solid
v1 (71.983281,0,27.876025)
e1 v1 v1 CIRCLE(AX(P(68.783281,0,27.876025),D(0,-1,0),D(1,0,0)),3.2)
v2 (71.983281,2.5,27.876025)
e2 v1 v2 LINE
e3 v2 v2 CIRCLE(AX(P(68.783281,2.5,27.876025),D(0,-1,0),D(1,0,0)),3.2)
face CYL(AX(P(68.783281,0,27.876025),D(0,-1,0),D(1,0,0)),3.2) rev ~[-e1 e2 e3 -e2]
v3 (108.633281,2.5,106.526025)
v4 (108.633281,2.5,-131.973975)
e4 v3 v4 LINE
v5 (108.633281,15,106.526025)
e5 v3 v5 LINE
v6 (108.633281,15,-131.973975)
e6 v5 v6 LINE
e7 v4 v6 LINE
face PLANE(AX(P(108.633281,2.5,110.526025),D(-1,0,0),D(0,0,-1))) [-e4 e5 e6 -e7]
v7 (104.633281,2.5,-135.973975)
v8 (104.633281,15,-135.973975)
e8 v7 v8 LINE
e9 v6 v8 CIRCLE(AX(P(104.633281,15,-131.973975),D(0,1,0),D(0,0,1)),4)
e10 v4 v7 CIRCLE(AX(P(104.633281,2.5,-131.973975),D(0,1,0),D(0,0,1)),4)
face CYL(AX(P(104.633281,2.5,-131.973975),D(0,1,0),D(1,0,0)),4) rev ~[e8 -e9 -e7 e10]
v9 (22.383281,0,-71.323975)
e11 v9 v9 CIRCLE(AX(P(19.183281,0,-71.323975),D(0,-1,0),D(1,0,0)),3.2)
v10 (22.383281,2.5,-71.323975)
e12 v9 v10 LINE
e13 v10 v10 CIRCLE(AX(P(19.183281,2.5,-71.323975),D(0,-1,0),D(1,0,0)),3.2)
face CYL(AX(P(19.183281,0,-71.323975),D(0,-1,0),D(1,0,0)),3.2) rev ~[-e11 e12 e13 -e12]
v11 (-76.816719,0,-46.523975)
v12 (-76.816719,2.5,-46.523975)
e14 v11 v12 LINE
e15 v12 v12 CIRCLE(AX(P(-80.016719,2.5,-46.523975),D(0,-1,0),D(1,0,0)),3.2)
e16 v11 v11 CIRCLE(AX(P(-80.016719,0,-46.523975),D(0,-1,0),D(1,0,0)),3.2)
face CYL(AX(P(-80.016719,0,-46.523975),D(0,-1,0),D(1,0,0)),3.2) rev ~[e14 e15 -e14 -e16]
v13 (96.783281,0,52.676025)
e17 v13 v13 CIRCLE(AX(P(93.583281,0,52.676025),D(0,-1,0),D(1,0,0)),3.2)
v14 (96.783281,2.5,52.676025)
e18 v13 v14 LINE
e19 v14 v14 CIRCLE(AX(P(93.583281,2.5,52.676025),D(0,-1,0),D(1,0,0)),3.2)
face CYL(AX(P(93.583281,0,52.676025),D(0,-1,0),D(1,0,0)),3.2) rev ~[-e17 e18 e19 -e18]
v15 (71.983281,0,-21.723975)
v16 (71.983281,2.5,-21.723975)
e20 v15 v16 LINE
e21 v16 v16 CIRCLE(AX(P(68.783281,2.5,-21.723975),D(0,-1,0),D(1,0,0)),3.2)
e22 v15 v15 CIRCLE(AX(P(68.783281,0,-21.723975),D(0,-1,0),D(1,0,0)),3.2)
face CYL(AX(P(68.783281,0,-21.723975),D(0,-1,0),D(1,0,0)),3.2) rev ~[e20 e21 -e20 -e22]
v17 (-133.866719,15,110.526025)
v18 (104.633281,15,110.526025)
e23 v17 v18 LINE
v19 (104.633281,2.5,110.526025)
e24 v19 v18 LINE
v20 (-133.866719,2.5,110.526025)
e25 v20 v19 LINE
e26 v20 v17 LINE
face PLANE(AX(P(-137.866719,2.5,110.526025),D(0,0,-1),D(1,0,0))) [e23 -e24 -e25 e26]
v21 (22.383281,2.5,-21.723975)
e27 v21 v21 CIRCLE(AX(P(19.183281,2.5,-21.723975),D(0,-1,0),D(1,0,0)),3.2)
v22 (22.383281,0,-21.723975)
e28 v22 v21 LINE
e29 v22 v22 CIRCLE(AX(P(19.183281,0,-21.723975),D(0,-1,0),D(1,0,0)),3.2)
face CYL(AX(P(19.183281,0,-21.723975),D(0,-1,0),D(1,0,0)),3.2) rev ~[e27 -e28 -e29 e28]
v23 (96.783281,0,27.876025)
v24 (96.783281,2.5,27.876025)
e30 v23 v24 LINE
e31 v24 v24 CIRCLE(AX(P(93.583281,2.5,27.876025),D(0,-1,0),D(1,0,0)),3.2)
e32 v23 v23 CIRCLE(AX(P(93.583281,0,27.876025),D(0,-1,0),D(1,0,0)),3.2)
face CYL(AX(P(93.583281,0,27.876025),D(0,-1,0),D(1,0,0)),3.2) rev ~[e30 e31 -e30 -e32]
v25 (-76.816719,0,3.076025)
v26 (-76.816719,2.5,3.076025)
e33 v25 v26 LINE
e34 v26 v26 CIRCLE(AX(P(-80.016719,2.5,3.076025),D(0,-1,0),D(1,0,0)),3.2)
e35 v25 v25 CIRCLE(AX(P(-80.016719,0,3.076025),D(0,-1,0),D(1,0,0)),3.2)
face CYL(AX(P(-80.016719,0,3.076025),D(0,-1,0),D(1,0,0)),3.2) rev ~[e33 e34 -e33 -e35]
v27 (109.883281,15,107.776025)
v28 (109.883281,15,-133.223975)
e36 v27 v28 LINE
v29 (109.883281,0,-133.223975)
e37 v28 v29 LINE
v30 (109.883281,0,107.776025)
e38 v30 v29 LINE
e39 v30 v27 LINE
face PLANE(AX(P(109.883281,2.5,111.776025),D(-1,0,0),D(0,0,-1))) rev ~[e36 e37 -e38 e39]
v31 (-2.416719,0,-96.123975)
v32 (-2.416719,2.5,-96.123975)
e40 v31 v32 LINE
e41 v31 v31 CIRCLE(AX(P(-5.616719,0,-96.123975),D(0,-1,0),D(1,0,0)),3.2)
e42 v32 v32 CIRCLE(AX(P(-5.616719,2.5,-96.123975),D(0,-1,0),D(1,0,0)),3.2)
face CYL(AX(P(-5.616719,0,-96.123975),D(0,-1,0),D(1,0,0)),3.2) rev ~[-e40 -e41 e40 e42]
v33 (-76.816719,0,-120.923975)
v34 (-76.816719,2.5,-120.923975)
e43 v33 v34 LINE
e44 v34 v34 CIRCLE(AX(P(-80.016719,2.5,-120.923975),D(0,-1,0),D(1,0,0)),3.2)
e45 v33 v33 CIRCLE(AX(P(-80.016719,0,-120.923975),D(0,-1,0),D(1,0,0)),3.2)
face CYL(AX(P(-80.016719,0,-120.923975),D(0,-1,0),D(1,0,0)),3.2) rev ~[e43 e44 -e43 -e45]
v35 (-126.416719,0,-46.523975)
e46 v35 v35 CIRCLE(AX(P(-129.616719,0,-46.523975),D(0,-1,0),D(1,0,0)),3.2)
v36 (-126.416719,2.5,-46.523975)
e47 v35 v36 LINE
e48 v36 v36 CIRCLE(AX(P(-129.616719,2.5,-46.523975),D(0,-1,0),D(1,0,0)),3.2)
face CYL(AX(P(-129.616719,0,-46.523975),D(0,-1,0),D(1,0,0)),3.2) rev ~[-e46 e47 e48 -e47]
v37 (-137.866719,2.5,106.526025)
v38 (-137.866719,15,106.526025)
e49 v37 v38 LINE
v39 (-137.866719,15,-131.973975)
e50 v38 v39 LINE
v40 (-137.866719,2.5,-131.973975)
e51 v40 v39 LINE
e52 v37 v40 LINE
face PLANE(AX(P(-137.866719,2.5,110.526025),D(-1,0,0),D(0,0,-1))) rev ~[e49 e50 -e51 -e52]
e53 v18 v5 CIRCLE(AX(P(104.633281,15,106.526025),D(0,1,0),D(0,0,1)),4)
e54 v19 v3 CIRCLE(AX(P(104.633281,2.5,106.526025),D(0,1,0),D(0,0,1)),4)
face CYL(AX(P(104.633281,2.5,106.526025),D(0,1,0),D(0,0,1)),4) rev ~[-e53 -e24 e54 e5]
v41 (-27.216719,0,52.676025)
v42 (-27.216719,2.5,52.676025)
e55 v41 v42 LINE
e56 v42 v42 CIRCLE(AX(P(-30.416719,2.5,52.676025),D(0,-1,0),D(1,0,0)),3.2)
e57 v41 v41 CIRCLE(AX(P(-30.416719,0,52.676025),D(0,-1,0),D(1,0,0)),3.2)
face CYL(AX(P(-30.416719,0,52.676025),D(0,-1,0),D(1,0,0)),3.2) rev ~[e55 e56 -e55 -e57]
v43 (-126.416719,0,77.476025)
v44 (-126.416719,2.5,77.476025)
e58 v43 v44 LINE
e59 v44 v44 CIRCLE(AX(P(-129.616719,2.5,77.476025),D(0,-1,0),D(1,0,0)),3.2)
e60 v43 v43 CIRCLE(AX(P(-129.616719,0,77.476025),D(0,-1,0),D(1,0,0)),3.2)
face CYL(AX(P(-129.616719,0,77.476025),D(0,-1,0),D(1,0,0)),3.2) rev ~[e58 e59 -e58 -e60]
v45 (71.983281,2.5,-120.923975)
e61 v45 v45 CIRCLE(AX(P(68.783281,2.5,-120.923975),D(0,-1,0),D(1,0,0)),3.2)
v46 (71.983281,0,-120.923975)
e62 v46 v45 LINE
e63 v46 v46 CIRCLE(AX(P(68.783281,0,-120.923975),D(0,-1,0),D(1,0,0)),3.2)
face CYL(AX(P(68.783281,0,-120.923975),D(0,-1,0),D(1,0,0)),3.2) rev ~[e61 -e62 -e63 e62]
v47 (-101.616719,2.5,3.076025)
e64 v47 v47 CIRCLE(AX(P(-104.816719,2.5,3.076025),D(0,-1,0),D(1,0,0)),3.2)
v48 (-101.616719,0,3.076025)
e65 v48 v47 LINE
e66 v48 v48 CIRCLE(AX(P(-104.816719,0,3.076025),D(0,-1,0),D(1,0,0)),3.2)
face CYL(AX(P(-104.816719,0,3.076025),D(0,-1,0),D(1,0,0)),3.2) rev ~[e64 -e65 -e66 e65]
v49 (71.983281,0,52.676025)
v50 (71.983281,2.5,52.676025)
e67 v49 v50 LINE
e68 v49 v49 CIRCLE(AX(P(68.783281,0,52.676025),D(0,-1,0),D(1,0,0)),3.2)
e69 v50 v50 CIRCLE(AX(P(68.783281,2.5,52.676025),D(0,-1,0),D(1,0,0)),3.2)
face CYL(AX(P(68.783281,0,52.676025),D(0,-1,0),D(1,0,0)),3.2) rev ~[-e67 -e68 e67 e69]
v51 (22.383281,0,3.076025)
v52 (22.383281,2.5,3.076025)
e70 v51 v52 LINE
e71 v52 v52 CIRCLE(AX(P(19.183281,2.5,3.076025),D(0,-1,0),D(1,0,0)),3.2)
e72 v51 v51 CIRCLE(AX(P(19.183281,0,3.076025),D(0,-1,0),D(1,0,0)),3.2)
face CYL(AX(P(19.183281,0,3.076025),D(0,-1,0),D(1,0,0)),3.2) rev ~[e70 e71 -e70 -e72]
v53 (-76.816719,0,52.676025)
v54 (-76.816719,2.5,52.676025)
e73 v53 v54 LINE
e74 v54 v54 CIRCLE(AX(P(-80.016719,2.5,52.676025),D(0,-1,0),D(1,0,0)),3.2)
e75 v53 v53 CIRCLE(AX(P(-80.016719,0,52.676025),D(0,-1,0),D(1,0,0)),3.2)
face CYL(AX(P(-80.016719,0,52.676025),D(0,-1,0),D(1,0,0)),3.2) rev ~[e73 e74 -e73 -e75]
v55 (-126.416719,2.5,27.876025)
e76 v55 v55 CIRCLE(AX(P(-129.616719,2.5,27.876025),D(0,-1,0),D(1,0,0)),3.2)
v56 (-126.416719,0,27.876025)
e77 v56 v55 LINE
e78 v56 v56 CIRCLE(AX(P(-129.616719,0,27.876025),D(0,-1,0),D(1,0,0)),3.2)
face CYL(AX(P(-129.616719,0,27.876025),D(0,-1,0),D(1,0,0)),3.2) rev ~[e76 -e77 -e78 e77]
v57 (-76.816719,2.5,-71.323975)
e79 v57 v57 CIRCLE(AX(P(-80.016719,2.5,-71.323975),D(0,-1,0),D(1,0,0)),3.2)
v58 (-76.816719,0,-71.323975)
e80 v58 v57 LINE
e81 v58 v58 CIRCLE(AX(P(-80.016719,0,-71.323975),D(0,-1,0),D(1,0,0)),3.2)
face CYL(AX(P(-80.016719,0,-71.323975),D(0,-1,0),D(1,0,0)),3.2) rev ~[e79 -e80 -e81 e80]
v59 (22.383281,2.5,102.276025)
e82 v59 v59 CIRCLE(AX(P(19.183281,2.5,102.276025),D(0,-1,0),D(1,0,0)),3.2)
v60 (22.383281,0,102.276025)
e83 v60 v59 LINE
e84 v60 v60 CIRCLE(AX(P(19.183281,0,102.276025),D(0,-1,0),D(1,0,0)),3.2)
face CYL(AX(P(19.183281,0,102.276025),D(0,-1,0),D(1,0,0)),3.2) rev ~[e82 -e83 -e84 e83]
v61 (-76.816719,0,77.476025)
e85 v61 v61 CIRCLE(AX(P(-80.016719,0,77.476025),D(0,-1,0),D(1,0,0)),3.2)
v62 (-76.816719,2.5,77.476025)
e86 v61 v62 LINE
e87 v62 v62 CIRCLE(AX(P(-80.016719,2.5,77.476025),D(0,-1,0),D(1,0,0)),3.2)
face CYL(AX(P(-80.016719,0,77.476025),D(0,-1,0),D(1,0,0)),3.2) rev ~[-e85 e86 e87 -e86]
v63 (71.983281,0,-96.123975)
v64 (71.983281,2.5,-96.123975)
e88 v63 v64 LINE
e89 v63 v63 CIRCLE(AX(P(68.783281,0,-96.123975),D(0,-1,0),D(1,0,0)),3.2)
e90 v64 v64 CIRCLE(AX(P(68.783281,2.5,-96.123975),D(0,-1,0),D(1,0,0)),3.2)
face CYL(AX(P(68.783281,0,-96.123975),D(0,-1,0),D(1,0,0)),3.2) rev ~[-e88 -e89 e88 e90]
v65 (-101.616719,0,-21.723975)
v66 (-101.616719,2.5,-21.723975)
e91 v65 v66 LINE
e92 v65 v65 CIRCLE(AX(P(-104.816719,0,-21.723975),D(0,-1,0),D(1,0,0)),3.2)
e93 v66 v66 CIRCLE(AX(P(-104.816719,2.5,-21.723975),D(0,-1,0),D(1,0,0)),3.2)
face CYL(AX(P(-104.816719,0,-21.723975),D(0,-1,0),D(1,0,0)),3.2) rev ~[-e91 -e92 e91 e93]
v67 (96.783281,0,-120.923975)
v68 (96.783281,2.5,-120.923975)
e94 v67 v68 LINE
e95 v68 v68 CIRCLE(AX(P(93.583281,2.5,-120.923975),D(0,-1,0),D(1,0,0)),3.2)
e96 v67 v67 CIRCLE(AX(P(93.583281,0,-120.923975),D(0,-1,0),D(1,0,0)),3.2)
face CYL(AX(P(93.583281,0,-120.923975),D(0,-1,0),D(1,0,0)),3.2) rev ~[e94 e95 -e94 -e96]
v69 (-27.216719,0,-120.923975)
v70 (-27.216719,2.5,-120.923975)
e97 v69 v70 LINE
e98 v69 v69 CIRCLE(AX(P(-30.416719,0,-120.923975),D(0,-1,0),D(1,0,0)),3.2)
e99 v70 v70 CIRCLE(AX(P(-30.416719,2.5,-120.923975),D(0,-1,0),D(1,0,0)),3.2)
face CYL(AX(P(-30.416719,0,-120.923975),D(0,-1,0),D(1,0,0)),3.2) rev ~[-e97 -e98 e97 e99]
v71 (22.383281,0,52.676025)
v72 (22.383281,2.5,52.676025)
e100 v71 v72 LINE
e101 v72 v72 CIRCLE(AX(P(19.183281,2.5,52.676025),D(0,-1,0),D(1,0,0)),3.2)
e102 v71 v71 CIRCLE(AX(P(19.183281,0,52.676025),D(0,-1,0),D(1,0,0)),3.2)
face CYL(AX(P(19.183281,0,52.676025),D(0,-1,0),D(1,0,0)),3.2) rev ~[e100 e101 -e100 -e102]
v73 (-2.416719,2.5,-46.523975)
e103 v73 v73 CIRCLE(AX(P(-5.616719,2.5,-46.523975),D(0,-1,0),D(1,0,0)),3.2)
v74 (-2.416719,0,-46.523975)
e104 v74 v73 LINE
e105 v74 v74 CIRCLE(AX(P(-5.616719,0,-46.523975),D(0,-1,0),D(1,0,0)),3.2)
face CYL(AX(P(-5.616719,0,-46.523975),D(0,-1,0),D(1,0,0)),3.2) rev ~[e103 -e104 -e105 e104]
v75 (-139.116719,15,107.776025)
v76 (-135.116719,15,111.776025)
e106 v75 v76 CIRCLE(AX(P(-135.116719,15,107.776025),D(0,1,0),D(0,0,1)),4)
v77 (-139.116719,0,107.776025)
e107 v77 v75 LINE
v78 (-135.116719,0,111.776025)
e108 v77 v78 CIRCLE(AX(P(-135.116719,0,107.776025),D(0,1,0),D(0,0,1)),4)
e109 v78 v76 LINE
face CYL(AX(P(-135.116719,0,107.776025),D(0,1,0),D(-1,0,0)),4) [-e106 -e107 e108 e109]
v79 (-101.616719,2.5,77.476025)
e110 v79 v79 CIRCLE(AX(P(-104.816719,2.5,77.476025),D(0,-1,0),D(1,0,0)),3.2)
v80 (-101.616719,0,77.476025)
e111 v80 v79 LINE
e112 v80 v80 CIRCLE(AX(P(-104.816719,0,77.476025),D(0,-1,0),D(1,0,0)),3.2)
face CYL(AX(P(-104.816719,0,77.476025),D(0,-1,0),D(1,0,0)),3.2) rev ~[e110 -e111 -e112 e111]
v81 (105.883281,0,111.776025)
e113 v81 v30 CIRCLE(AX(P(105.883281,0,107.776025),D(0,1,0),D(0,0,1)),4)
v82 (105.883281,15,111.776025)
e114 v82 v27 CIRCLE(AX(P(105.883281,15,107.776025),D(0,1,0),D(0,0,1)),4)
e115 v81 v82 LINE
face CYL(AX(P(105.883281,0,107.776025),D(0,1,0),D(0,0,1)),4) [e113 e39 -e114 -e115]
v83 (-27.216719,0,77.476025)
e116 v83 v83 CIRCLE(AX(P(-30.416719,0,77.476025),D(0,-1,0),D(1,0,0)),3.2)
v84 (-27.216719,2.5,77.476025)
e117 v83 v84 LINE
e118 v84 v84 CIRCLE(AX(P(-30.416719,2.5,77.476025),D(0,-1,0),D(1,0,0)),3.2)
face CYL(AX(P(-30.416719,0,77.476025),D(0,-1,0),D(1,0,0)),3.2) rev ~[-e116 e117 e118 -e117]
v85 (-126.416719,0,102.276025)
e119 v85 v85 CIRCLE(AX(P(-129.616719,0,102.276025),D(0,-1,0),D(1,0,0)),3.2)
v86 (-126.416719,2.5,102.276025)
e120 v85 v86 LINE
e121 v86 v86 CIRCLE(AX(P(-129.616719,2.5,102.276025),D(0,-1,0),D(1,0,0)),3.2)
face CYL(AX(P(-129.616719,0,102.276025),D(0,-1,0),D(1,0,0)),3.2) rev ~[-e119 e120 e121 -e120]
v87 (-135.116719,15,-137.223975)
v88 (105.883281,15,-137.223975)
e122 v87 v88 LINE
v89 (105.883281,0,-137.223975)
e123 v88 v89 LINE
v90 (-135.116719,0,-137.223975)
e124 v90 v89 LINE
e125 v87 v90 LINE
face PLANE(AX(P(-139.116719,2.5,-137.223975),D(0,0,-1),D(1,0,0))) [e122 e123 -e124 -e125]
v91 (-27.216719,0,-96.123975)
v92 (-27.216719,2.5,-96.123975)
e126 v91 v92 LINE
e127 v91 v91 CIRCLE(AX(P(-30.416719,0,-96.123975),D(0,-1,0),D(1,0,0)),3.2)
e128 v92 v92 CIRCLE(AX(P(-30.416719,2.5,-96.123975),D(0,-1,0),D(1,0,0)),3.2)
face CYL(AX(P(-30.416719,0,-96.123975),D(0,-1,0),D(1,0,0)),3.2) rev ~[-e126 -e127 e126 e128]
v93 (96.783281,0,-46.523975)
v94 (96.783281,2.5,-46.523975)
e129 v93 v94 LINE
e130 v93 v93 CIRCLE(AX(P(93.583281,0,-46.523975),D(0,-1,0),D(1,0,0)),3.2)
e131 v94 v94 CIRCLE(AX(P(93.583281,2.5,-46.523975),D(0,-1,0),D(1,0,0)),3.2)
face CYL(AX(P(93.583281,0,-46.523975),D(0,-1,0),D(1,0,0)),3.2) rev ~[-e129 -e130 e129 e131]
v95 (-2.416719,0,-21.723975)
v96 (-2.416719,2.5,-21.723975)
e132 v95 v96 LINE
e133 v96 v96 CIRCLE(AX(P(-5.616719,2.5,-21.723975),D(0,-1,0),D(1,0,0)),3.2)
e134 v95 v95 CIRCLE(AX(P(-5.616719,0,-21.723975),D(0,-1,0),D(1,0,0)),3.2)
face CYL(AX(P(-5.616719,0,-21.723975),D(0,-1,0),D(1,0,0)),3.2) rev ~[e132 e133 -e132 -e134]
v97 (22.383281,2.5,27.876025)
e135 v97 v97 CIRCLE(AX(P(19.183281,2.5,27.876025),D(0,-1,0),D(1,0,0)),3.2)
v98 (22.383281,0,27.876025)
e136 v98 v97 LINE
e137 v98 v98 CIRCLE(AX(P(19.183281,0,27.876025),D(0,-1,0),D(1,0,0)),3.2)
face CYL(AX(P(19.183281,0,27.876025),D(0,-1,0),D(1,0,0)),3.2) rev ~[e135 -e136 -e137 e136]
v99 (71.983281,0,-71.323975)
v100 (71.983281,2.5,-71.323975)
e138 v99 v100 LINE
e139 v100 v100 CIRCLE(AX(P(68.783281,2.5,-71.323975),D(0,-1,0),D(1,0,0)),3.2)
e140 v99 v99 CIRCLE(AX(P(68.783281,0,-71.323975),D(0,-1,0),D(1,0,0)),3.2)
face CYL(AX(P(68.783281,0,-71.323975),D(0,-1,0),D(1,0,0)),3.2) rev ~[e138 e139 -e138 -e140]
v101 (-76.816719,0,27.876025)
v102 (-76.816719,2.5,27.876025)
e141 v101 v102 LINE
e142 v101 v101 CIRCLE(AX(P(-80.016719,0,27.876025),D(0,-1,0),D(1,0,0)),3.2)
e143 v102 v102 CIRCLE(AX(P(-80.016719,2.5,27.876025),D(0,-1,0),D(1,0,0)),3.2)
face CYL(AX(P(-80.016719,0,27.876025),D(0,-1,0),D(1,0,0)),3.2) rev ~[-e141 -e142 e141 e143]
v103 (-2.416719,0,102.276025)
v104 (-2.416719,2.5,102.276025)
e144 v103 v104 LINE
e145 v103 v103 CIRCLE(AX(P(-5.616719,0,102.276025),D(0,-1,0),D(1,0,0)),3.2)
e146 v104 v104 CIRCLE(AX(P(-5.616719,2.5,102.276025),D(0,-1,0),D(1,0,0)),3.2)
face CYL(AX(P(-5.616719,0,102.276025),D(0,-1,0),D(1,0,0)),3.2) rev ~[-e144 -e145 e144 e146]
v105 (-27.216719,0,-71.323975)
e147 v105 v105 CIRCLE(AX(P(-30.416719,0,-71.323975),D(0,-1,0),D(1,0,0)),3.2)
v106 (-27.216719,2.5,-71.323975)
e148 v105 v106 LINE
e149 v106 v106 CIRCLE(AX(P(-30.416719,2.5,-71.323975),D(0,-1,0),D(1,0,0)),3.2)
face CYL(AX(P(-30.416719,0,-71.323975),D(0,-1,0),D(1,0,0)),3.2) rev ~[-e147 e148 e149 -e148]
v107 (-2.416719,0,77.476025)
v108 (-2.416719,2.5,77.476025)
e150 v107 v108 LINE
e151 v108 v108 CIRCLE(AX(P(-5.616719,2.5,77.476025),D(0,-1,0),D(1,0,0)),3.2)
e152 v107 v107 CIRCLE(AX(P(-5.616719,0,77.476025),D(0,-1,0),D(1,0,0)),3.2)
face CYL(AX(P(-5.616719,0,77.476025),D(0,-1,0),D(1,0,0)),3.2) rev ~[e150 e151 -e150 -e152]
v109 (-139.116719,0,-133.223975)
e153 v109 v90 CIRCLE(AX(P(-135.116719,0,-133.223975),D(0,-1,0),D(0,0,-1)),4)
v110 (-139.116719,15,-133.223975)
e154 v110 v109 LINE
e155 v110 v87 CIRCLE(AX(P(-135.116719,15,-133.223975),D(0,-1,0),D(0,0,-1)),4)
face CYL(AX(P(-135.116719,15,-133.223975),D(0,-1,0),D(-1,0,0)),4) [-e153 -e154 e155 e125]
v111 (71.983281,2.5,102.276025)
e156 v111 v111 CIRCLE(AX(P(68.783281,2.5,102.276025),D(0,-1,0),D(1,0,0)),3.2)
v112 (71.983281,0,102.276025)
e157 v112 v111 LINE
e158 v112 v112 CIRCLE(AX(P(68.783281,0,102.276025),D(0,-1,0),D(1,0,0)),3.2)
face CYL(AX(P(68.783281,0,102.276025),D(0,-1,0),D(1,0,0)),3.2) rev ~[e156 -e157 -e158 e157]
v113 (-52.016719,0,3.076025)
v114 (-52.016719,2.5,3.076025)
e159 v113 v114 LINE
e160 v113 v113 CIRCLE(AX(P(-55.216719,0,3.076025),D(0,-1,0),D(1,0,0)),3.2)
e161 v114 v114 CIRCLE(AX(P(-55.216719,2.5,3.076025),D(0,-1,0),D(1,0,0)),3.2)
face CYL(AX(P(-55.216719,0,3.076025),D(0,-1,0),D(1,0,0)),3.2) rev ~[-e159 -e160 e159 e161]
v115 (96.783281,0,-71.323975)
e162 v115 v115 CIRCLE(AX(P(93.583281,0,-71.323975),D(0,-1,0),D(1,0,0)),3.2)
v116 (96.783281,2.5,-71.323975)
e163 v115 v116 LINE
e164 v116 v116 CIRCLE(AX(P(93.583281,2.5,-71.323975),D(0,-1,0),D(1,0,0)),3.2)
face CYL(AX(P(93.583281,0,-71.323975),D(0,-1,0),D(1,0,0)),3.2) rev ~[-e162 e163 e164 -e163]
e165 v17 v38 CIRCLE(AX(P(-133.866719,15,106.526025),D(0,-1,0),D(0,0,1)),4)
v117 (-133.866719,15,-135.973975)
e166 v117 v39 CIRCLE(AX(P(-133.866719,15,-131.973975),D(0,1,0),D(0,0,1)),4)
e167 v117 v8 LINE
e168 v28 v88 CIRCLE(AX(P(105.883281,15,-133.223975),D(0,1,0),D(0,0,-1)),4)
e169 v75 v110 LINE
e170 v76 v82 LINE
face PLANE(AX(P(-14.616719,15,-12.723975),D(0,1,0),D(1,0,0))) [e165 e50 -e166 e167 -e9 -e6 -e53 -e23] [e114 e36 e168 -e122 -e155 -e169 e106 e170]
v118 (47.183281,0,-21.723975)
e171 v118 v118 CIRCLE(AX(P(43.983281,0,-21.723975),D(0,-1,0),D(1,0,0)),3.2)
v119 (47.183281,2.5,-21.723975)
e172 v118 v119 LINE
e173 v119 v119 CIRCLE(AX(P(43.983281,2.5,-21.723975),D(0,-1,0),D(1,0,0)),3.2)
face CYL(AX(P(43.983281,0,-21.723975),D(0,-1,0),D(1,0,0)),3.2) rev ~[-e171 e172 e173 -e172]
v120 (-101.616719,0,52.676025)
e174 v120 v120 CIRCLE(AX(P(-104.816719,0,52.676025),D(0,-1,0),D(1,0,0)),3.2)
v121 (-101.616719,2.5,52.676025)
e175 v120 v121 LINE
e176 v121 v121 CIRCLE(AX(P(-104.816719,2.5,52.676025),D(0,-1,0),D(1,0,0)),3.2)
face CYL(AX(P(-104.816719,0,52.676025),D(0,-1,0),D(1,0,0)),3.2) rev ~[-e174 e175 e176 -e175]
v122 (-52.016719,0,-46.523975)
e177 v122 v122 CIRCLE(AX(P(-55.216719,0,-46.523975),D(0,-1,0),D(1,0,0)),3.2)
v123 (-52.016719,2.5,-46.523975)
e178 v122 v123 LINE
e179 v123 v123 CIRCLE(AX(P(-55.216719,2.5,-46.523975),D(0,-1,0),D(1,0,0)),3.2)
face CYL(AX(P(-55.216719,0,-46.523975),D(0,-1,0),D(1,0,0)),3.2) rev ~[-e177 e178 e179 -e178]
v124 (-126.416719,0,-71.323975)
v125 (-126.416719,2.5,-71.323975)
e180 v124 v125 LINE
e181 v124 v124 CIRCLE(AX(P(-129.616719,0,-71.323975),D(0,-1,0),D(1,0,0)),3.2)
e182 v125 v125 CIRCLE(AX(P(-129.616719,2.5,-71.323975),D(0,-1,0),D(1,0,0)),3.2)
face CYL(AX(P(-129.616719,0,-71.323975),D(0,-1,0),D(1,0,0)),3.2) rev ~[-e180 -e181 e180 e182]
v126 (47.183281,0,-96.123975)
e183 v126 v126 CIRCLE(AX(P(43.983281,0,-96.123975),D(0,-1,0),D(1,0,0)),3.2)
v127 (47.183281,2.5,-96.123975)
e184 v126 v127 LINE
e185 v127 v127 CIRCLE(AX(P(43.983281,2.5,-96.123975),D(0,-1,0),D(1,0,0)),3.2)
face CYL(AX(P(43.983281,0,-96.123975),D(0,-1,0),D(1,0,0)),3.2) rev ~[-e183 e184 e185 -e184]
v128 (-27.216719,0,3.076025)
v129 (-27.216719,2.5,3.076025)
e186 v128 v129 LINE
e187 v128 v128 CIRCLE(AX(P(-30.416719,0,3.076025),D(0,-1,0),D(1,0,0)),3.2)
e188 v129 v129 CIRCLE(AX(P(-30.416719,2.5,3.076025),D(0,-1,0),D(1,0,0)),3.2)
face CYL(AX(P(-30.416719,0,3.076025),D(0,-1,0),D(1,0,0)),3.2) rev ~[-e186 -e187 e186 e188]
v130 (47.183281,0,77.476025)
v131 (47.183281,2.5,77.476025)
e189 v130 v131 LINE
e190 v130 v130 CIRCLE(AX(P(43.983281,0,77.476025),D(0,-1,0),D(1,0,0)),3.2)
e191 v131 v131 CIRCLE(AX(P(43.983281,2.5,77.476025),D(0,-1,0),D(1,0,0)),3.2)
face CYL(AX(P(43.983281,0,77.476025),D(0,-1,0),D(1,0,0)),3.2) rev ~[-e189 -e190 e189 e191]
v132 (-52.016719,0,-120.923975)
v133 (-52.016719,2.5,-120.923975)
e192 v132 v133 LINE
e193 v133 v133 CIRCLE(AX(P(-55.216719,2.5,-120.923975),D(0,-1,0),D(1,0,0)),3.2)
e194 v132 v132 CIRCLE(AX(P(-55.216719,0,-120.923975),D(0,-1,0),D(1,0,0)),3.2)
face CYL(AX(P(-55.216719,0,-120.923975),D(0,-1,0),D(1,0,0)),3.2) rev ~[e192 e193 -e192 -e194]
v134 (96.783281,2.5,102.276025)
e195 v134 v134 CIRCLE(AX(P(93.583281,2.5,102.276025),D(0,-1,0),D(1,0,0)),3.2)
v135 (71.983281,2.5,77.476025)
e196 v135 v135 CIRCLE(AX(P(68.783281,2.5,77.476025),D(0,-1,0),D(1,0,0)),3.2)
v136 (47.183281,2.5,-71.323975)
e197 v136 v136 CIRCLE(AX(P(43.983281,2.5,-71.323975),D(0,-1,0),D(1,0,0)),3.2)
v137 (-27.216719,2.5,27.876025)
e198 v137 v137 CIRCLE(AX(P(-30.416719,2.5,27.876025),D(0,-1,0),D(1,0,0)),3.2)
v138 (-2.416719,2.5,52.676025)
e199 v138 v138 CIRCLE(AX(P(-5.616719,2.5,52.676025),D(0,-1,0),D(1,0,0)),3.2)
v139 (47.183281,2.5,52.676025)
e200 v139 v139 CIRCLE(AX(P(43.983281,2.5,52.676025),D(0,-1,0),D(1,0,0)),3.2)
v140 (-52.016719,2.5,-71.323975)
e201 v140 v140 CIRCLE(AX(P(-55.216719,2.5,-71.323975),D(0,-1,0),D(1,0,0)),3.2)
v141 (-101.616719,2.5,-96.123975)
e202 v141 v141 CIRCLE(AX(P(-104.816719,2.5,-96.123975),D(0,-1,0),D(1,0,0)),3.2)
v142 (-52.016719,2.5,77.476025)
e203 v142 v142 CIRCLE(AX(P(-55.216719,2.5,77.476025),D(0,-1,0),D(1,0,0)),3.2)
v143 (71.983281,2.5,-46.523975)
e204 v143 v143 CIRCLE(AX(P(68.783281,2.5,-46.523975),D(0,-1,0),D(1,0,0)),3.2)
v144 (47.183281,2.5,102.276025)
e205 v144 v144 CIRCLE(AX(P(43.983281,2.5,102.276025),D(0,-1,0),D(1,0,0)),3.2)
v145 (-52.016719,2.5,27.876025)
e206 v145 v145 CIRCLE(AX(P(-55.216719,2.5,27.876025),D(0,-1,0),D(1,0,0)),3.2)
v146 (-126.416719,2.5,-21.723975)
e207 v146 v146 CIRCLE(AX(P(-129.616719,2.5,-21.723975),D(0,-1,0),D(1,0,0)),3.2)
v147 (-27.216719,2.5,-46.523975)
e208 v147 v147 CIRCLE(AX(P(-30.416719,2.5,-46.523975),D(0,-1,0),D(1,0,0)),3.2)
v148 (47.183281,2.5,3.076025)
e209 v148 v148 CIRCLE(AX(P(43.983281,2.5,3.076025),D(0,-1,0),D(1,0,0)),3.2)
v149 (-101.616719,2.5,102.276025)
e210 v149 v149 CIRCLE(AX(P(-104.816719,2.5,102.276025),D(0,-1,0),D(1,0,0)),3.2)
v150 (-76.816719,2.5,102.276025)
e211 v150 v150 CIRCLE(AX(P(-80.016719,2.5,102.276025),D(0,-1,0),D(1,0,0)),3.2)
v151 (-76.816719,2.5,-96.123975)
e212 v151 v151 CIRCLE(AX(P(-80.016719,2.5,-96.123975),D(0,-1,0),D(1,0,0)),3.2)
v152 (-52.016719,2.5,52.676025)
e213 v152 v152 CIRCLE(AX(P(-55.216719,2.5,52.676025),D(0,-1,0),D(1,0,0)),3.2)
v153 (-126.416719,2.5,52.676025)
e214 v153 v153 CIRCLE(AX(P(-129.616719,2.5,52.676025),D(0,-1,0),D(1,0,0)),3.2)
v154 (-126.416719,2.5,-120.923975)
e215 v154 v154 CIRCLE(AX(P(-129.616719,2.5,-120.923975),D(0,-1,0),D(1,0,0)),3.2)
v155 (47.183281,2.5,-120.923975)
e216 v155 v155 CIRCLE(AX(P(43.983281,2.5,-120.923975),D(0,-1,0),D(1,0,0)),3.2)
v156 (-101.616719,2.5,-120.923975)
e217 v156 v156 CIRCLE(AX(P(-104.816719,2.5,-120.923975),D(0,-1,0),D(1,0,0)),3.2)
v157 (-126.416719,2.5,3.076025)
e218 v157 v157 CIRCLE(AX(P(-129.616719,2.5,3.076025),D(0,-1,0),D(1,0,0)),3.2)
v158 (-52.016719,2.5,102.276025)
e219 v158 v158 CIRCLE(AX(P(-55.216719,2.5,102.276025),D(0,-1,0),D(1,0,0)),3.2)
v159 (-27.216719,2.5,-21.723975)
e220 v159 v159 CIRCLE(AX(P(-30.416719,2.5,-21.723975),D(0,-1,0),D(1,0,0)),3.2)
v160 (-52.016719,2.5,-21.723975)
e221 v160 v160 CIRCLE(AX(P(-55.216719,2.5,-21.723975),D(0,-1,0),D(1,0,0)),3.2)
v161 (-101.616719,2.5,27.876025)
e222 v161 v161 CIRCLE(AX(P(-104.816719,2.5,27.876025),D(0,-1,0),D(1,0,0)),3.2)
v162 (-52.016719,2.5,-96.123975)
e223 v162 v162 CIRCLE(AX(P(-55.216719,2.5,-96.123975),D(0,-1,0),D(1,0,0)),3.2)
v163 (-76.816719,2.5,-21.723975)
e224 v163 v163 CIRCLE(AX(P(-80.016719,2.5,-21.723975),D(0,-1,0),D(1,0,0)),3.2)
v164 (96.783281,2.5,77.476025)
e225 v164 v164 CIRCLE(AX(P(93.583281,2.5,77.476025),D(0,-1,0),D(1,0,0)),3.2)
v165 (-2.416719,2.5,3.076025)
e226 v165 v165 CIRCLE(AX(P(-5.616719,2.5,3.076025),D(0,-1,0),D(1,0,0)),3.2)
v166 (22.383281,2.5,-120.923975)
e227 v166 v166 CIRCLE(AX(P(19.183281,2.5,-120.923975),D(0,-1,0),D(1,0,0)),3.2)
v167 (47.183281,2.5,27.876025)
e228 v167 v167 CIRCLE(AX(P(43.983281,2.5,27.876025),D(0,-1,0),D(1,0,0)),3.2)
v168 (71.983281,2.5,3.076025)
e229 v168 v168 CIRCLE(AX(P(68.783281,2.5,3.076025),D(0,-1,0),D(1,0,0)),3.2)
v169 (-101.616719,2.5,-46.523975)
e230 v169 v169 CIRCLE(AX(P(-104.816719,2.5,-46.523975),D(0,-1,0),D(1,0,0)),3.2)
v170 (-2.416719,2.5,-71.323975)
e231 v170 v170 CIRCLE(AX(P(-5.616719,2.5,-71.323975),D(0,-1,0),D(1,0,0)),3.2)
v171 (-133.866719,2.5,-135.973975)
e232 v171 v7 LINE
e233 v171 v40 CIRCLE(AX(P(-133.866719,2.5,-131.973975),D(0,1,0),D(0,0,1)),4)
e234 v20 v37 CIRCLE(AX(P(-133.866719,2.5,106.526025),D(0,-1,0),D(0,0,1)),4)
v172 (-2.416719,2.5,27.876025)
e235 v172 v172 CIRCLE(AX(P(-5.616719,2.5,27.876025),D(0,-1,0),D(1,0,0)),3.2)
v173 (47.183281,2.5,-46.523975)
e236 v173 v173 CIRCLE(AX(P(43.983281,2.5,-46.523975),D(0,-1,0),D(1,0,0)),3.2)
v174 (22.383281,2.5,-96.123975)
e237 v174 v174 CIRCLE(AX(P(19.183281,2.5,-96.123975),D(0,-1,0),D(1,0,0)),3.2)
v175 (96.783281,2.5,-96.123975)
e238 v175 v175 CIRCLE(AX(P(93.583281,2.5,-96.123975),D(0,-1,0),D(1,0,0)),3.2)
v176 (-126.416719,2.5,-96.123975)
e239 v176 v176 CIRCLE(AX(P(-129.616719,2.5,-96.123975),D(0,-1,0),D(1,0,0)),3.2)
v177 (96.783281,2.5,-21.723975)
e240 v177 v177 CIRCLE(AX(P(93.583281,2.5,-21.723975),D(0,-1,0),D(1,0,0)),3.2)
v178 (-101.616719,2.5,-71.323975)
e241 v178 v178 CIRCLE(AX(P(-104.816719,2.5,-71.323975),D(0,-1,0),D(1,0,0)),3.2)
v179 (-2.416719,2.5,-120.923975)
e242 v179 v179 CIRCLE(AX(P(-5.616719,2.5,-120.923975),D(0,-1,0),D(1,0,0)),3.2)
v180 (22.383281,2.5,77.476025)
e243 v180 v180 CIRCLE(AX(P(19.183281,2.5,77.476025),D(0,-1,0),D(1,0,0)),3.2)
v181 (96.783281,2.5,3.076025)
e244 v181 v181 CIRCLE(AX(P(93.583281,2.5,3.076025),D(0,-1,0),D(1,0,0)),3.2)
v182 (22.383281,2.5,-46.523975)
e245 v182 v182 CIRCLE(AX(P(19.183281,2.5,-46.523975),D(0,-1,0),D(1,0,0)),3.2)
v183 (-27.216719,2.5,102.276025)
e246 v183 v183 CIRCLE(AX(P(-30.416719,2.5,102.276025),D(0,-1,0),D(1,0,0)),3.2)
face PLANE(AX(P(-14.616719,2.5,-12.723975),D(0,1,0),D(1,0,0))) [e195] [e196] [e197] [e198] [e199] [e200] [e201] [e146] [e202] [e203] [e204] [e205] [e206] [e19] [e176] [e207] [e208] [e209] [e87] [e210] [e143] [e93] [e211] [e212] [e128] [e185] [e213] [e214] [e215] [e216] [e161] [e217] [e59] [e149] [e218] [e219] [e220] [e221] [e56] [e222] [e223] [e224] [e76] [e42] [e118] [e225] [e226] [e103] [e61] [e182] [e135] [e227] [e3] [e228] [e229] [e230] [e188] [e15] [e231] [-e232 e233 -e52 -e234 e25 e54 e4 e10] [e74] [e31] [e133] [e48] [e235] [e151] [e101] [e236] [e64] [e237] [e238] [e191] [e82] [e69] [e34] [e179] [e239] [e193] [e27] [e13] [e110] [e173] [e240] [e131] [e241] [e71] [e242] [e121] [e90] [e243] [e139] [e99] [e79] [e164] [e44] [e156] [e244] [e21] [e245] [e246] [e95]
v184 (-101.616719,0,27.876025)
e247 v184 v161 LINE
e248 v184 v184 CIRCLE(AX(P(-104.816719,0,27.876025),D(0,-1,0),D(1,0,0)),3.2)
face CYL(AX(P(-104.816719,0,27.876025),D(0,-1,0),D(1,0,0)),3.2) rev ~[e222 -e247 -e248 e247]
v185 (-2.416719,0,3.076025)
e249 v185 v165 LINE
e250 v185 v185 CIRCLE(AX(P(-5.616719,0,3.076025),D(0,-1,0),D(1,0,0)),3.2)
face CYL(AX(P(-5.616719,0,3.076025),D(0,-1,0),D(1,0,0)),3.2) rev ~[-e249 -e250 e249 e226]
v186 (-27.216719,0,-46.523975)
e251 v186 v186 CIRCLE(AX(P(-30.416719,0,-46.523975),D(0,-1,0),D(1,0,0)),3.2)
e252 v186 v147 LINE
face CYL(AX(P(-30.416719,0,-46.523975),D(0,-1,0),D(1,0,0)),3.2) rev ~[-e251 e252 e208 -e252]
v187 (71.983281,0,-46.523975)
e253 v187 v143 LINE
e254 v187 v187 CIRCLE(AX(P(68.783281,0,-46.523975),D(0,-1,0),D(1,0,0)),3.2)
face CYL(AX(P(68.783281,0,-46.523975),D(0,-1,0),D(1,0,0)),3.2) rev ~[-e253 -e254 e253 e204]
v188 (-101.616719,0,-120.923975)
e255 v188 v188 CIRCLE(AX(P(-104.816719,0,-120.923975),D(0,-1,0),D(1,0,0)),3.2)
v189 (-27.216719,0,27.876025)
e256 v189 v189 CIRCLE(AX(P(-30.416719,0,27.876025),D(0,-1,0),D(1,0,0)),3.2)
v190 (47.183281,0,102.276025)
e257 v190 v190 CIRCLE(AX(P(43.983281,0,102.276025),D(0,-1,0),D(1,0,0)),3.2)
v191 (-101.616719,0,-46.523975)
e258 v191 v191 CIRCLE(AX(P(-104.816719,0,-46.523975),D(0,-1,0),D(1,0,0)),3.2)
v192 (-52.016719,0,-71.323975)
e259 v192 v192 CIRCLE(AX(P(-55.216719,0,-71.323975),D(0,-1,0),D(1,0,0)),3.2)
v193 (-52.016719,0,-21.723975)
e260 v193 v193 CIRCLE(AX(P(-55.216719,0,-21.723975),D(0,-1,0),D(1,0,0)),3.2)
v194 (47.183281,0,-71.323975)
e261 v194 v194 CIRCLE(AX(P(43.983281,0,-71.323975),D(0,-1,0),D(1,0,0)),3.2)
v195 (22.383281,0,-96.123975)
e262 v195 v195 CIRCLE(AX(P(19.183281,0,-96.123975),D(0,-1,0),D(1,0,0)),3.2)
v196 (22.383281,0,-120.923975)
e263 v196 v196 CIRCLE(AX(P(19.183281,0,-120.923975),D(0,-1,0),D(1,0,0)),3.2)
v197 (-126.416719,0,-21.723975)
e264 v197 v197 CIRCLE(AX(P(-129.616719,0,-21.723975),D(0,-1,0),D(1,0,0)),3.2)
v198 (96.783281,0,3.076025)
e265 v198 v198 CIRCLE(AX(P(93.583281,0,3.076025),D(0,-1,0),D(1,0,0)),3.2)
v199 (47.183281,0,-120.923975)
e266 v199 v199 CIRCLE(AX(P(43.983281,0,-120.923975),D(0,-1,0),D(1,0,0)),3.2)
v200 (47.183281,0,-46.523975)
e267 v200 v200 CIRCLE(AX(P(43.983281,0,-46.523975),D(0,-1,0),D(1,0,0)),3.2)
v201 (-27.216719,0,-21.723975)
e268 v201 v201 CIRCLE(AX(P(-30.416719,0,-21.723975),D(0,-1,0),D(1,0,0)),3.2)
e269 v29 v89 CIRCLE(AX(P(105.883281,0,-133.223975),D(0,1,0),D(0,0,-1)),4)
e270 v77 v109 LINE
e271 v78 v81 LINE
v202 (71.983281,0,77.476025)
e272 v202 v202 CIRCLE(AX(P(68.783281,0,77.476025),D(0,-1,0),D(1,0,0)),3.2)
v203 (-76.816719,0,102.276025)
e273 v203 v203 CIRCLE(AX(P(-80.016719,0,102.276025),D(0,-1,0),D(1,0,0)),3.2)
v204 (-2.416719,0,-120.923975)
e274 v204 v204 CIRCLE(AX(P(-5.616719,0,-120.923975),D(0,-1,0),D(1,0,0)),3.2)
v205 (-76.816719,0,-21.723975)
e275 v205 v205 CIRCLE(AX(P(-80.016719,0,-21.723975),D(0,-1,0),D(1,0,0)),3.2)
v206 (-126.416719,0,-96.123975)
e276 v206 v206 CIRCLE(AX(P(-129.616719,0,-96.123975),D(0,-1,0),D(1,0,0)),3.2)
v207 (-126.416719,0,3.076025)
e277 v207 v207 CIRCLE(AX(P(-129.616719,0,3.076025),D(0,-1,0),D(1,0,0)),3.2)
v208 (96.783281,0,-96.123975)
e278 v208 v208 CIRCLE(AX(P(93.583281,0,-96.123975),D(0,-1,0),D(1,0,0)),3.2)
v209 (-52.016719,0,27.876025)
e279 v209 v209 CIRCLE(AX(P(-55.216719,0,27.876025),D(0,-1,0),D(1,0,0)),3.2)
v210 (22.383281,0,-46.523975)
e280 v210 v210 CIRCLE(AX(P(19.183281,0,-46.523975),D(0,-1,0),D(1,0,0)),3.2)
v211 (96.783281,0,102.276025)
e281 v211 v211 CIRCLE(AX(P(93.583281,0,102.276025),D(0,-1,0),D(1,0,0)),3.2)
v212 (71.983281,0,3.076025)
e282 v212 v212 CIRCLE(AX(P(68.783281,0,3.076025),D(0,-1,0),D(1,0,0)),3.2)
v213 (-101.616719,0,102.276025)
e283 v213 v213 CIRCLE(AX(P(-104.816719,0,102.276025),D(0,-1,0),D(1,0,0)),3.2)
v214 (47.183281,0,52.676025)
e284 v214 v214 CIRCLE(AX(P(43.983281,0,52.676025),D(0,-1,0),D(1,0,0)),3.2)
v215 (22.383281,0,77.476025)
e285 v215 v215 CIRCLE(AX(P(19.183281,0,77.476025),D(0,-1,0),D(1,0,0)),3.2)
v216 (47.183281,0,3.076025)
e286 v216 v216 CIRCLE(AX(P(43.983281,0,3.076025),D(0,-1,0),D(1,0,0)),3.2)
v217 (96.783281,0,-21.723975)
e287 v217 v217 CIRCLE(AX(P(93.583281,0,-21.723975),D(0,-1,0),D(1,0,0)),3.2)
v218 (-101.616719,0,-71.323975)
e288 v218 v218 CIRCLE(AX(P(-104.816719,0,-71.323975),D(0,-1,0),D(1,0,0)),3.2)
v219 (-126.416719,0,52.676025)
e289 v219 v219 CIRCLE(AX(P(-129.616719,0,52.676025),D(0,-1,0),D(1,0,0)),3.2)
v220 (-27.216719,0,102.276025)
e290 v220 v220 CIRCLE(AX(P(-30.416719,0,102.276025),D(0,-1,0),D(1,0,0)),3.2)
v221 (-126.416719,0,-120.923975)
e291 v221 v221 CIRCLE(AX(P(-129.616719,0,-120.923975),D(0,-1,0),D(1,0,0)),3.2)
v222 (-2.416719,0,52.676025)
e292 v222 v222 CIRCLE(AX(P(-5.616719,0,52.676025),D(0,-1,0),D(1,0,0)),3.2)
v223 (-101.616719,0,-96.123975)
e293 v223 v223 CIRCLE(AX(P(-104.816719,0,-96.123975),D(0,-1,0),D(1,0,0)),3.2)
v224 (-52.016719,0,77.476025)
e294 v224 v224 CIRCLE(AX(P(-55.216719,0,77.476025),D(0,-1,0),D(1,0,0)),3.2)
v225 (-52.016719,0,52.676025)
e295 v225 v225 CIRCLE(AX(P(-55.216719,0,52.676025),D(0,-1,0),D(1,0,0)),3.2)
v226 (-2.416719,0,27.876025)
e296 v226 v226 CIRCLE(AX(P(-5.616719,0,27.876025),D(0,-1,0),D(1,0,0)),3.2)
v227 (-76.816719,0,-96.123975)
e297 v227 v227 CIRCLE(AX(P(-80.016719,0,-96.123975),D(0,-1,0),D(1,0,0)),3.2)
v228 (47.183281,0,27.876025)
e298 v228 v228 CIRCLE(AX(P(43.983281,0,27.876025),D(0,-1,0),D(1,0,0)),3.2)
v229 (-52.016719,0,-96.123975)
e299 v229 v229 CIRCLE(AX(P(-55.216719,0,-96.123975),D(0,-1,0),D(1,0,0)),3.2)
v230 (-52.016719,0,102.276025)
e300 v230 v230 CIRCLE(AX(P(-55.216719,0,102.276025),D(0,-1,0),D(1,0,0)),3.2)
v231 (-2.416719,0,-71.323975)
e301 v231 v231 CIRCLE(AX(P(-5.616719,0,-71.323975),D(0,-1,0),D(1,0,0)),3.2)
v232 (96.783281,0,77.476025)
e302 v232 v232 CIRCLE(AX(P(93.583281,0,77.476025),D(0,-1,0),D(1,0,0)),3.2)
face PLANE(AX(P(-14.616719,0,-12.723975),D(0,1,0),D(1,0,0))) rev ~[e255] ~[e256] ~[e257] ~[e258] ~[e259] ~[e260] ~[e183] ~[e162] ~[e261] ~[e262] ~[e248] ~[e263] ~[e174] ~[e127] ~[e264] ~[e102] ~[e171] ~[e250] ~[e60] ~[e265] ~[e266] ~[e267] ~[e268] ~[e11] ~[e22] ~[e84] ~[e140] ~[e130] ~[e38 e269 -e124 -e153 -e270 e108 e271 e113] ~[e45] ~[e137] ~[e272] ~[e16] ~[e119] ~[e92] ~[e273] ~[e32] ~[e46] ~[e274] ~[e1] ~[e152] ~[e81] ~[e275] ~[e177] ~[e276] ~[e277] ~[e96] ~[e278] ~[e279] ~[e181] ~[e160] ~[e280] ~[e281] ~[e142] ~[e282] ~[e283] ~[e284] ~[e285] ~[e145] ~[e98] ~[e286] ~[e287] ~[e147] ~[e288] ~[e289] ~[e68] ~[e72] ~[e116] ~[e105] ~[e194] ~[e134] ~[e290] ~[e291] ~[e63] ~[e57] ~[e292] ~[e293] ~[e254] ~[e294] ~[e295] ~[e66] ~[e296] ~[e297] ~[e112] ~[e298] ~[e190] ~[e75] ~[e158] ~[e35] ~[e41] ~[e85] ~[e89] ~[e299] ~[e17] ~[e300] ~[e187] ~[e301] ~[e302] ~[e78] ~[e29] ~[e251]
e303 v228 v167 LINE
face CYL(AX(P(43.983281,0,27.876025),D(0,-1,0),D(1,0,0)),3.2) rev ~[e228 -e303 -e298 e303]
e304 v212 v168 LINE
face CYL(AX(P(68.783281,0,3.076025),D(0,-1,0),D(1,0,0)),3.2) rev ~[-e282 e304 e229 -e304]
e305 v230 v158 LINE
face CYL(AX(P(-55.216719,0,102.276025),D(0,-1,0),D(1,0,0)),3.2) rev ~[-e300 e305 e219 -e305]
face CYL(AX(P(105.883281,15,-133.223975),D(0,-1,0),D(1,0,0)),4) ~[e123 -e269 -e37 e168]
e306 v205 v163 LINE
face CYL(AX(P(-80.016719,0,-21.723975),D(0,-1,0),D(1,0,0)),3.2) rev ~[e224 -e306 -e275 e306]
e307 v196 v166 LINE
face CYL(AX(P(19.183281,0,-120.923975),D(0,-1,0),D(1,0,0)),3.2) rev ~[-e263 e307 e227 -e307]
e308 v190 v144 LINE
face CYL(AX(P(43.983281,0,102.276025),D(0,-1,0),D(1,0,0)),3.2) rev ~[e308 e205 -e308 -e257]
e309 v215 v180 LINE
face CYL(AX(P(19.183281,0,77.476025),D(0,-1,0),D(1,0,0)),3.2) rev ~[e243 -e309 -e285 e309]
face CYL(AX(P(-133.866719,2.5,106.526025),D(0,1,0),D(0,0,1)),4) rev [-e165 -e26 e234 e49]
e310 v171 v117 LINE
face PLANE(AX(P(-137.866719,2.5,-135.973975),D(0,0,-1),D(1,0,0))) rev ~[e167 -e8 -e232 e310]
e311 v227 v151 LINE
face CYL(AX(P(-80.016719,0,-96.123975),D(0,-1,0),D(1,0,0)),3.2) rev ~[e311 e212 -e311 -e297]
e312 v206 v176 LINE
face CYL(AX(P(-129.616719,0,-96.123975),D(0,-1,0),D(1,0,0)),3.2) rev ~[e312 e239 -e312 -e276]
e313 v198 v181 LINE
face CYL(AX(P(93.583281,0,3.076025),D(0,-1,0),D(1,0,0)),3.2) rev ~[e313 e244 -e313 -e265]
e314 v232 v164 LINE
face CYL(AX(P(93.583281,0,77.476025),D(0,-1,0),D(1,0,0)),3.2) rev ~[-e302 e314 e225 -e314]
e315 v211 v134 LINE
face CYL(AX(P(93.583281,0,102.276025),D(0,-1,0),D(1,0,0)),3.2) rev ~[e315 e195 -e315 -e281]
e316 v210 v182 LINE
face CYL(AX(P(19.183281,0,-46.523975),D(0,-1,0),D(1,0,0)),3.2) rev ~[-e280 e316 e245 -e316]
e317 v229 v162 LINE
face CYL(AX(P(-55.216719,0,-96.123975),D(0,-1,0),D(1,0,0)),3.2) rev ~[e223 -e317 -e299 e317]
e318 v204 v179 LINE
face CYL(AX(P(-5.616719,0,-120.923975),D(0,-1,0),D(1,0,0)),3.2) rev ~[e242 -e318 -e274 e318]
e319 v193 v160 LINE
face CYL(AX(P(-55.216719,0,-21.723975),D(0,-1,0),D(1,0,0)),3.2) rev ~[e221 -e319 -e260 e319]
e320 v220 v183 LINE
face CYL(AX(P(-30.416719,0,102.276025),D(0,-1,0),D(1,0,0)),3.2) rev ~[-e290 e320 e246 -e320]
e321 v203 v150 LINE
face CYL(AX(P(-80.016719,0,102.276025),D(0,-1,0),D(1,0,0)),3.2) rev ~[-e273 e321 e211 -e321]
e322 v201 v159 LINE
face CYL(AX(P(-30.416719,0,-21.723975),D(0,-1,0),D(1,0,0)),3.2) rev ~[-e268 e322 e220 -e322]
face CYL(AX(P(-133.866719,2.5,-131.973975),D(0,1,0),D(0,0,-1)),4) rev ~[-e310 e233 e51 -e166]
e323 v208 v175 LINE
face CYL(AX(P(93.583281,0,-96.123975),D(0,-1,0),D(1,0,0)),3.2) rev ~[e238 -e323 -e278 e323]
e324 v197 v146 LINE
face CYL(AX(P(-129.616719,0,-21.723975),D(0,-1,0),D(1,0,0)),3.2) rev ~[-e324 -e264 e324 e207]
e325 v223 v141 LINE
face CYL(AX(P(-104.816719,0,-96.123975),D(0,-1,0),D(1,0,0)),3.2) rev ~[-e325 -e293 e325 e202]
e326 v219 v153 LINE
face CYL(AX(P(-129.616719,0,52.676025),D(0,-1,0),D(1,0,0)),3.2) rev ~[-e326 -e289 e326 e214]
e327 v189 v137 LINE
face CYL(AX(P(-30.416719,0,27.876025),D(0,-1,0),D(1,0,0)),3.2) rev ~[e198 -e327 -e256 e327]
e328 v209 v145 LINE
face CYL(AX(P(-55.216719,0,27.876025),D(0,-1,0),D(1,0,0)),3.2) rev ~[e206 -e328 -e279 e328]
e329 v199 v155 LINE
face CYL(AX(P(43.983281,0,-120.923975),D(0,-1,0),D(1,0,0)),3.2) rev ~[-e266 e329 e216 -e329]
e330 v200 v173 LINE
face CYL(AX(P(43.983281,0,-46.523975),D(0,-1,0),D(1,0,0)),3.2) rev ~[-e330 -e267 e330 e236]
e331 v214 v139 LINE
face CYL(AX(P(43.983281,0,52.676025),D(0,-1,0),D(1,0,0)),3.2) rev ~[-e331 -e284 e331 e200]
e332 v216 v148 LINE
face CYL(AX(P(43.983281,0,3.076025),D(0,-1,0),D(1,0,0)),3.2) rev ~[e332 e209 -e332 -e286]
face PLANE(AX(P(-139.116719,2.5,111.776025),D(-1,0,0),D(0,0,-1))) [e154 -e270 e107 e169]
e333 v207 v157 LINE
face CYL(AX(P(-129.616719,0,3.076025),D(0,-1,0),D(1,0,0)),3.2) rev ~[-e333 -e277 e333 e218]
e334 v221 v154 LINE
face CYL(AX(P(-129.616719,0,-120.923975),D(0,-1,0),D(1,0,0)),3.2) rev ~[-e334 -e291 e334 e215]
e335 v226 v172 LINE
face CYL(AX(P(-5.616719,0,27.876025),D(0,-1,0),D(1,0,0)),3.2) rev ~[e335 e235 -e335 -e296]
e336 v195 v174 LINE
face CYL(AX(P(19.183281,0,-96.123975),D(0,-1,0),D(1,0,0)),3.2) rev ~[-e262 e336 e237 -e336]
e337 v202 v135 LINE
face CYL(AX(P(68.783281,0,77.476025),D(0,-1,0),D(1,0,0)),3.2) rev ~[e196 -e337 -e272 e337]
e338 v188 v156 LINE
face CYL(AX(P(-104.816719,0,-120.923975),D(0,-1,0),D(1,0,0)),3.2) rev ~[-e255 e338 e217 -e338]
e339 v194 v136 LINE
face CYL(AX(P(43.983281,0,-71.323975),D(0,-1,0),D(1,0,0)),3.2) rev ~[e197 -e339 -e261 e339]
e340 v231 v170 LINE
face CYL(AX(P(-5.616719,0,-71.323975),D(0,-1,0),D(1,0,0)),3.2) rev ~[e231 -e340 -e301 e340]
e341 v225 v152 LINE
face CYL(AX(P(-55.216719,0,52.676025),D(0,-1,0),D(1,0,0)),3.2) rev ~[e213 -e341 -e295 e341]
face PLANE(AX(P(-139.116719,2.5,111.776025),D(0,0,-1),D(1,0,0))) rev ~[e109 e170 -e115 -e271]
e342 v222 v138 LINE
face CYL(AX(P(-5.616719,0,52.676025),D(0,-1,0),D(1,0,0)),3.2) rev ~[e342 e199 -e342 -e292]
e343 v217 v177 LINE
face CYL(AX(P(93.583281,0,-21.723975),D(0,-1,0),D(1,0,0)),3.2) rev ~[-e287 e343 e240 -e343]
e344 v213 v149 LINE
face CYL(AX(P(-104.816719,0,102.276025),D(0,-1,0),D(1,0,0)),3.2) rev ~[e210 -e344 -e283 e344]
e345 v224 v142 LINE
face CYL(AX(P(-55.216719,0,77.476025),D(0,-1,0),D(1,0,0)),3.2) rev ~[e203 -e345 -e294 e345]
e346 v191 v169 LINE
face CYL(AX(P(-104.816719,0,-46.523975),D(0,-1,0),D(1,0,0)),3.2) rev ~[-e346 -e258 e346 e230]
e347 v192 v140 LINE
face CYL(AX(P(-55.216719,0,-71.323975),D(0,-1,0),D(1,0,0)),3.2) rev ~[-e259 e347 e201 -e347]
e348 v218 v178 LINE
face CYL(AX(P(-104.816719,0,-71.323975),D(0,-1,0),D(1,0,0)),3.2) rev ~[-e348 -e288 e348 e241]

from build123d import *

# Parameters (mm, degrees)
SKETCH1_W           = 249
SKETCH1_H           = 249
BOSS_EXTRUDE1_DEPTH = 2.5
SKETCH2_W           = 249
SKETCH2_H           = 249
SKETCH2_W_2         = 246.5
SKETCH2_H_2         = 246.5
BOSS_EXTRUDE2_DEPTH = 12.5
FILLET1_R           = 4
FILLET2_R           = 4
SKETCH3_R           = 3.2
CUT_EXTRUDE1_DEPTH  = 12.5


with BuildPart() as part:
    # Sketch1 → Boss-Extrude1 (new body)
    with BuildSketch(Plane(origin=(0, 0, 0), x_dir=(1, 0, 0), z_dir=(0, 1, 0))):
        with Locations((-14.616719243, 12.723974763)):
            Rectangle(SKETCH1_W, SKETCH1_H)
    extrude(amount=BOSS_EXTRUDE1_DEPTH)

    # Sketch2 → Boss-Extrude2 (add)
    with BuildSketch(Plane(origin=(0, 2.5, 0), x_dir=(1, 0, 0), z_dir=(0, 1, 0))):
        with Locations((-14.616719243, 12.723974763)):
            Rectangle(SKETCH2_W, SKETCH2_H)
        with Locations((-14.616719243, 12.723974763)):
            Rectangle(SKETCH2_W_2, SKETCH2_H_2, mode=Mode.SUBTRACT)
    extrude(amount=BOSS_EXTRUDE2_DEPTH)

    # Fillet1
    fillet1_edges = [part.edges().sort_by_distance(p)[0] for p in [
        (-139.116719243, 7.5, -137.223974763),
        (109.883280757, 7.5, -137.223974763),
        (109.883280757, 7.5, 111.776025237),
        (-139.116719243, 7.5, 111.776025237),
    ]]
    fillet(fillet1_edges, radius=FILLET1_R)

    # Fillet2
    fillet2_edges = [part.edges().sort_by_distance(p)[0] for p in [
        (108.633280757, 8.75, -135.973974763),
        (-137.866719243, 8.75, -135.973974763),
        (-137.866719243, 8.75, 110.526025237),
        (108.633280757, 8.75, 110.526025237),
    ]]
    fillet(fillet2_edges, radius=FILLET2_R)

    # Sketch3 → Cut-Extrude1 (cut)
    with BuildSketch(Plane.XZ):
        with Locations((-129.616719243, 102.276025237)):
            Circle(SKETCH3_R)
        with Locations((-129.616719243, 77.476025237)):
            Circle(SKETCH3_R)
        with Locations((-129.616719243, 52.676025237)):
            Circle(SKETCH3_R)
        with Locations((-129.616719243, 27.876025237)):
            Circle(SKETCH3_R)
        with Locations((-129.616719243, 3.076025237)):
            Circle(SKETCH3_R)
        with Locations((-129.616719243, -21.723974763)):
            Circle(SKETCH3_R)
        with Locations((-129.616719243, -46.523974763)):
            Circle(SKETCH3_R)
        with Locations((-129.616719243, -71.323974763)):
            Circle(SKETCH3_R)
        with Locations((-129.616719243, -96.123974763)):
            Circle(SKETCH3_R)
        with Locations((-129.616719243, -120.923974763)):
            Circle(SKETCH3_R)
        with Locations((-104.816719243, 102.276025237)):
            Circle(SKETCH3_R)
        with Locations((-104.816719243, 77.476025237)):
            Circle(SKETCH3_R)
        with Locations((-104.816719243, 52.676025237)):
            Circle(SKETCH3_R)
        with Locations((-104.816719243, 27.876025237)):
            Circle(SKETCH3_R)
        with Locations((-104.816719243, 3.076025237)):
            Circle(SKETCH3_R)
        with Locations((-104.816719243, -21.723974763)):
            Circle(SKETCH3_R)
        with Locations((-104.816719243, -46.523974763)):
            Circle(SKETCH3_R)
        with Locations((-104.816719243, -71.323974763)):
            Circle(SKETCH3_R)
        with Locations((-104.816719243, -96.123974763)):
            Circle(SKETCH3_R)
        with Locations((-104.816719243, -120.923974763)):
            Circle(SKETCH3_R)
        with Locations((-80.016719243, 102.276025237)):
            Circle(SKETCH3_R)
        with Locations((-80.016719243, 77.476025237)):
            Circle(SKETCH3_R)
        with Locations((-80.016719243, 52.676025237)):
            Circle(SKETCH3_R)
        with Locations((-80.016719243, 27.876025237)):
            Circle(SKETCH3_R)
        with Locations((-80.016719243, 3.076025237)):
            Circle(SKETCH3_R)
        with Locations((-80.016719243, -21.723974763)):
            Circle(SKETCH3_R)
        with Locations((-80.016719243, -46.523974763)):
            Circle(SKETCH3_R)
        with Locations((-80.016719243, -71.323974763)):
            Circle(SKETCH3_R)
        with Locations((-80.016719243, -96.123974763)):
            Circle(SKETCH3_R)
        with Locations((-80.016719243, -120.923974763)):
            Circle(SKETCH3_R)
        with Locations((-55.216719243, 102.276025237)):
            Circle(SKETCH3_R)
        with Locations((-55.216719243, 77.476025237)):
            Circle(SKETCH3_R)
        with Locations((-55.216719243, 52.676025237)):
            Circle(SKETCH3_R)
        with Locations((-55.216719243, 27.876025237)):
            Circle(SKETCH3_R)
        with Locations((-55.216719243, 3.076025237)):
            Circle(SKETCH3_R)
        with Locations((-55.216719243, -21.723974763)):
            Circle(SKETCH3_R)
        with Locations((-55.216719243, -46.523974763)):
            Circle(SKETCH3_R)
        with Locations((-55.216719243, -71.323974763)):
            Circle(SKETCH3_R)
        with Locations((-55.216719243, -96.123974763)):
            Circle(SKETCH3_R)
        with Locations((-55.216719243, -120.923974763)):
            Circle(SKETCH3_R)
        with Locations((-30.416719243, 102.276025237)):
            Circle(SKETCH3_R)
        with Locations((-30.416719243, 77.476025237)):
            Circle(SKETCH3_R)
        with Locations((-30.416719243, 52.676025237)):
            Circle(SKETCH3_R)
        with Locations((-30.416719243, 27.876025237)):
            Circle(SKETCH3_R)
        with Locations((-30.416719243, 3.076025237)):
            Circle(SKETCH3_R)
        with Locations((-30.416719243, -21.723974763)):
            Circle(SKETCH3_R)
        with Locations((-30.416719243, -46.523974763)):
            Circle(SKETCH3_R)
        with Locations((-30.416719243, -71.323974763)):
            Circle(SKETCH3_R)
        with Locations((-30.416719243, -96.123974763)):
            Circle(SKETCH3_R)
        with Locations((-30.416719243, -120.923974763)):
            Circle(SKETCH3_R)
        with Locations((-5.616719243, 102.276025237)):
            Circle(SKETCH3_R)
        with Locations((-5.616719243, 77.476025237)):
            Circle(SKETCH3_R)
        with Locations((-5.616719243, 52.676025237)):
            Circle(SKETCH3_R)
        with Locations((-5.616719243, 27.876025237)):
            Circle(SKETCH3_R)
        with Locations((-5.616719243, 3.076025237)):
            Circle(SKETCH3_R)
        with Locations((-5.616719243, -21.723974763)):
            Circle(SKETCH3_R)
        with Locations((-5.616719243, -46.523974763)):
            Circle(SKETCH3_R)
        with Locations((-5.616719243, -71.323974763)):
            Circle(SKETCH3_R)
        with Locations((-5.616719243, -96.123974763)):
            Circle(SKETCH3_R)
        with Locations((-5.616719243, -120.923974763)):
            Circle(SKETCH3_R)
        with Locations((19.183280757, 102.276025237)):
            Circle(SKETCH3_R)
        with Locations((19.183280757, 77.476025237)):
            Circle(SKETCH3_R)
        with Locations((19.183280757, 52.676025237)):
            Circle(SKETCH3_R)
        with Locations((19.183280757, 27.876025237)):
            Circle(SKETCH3_R)
        with Locations((19.183280757, 3.076025237)):
            Circle(SKETCH3_R)
        with Locations((19.183280757, -21.723974763)):
            Circle(SKETCH3_R)
        with Locations((19.183280757, -46.523974763)):
            Circle(SKETCH3_R)
        with Locations((19.183280757, -71.323974763)):
            Circle(SKETCH3_R)
        with Locations((19.183280757, -96.123974763)):
            Circle(SKETCH3_R)
        with Locations((19.183280757, -120.923974763)):
            Circle(SKETCH3_R)
        with Locations((43.983280757, 102.276025237)):
            Circle(SKETCH3_R)
        with Locations((43.983280757, 77.476025237)):
            Circle(SKETCH3_R)
        with Locations((43.983280757, 52.676025237)):
            Circle(SKETCH3_R)
        with Locations((43.983280757, 27.876025237)):
            Circle(SKETCH3_R)
        with Locations((43.983280757, 3.076025237)):
            Circle(SKETCH3_R)
        with Locations((43.983280757, -21.723974763)):
            Circle(SKETCH3_R)
        with Locations((43.983280757, -46.523974763)):
            Circle(SKETCH3_R)
        with Locations((43.983280757, -71.323974763)):
            Circle(SKETCH3_R)
        with Locations((43.983280757, -96.123974763)):
            Circle(SKETCH3_R)
        with Locations((43.983280757, -120.923974763)):
            Circle(SKETCH3_R)
        with Locations((68.783280757, 102.276025237)):
            Circle(SKETCH3_R)
        with Locations((68.783280757, 77.476025237)):
            Circle(SKETCH3_R)
        with Locations((68.783280757, 52.676025237)):
            Circle(SKETCH3_R)
        with Locations((68.783280757, 27.876025237)):
            Circle(SKETCH3_R)
        with Locations((68.783280757, 3.076025237)):
            Circle(SKETCH3_R)
        with Locations((68.783280757, -21.723974763)):
            Circle(SKETCH3_R)
        with Locations((68.783280757, -46.523974763)):
            Circle(SKETCH3_R)
        with Locations((68.783280757, -71.323974763)):
            Circle(SKETCH3_R)
        with Locations((68.783280757, -96.123974763)):
            Circle(SKETCH3_R)
        with Locations((68.783280757, -120.923974763)):
            Circle(SKETCH3_R)
        with Locations((93.583280757, 102.276025237)):
            Circle(SKETCH3_R)
        with Locations((93.583280757, 77.476025237)):
            Circle(SKETCH3_R)
        with Locations((93.583280757, 52.676025237)):
            Circle(SKETCH3_R)
        with Locations((93.583280757, 27.876025237)):
            Circle(SKETCH3_R)
        with Locations((93.583280757, 3.076025237)):
            Circle(SKETCH3_R)
        with Locations((93.583280757, -21.723974763)):
            Circle(SKETCH3_R)
        with Locations((93.583280757, -46.523974763)):
            Circle(SKETCH3_R)
        with Locations((93.583280757, -71.323974763)):
            Circle(SKETCH3_R)
        with Locations((93.583280757, -96.123974763)):
            Circle(SKETCH3_R)
        with Locations((93.583280757, -120.923974763)):
            Circle(SKETCH3_R)
    extrude(amount=-CUT_EXTRUDE1_DEPTH, mode=Mode.SUBTRACT)


solid = part.part
